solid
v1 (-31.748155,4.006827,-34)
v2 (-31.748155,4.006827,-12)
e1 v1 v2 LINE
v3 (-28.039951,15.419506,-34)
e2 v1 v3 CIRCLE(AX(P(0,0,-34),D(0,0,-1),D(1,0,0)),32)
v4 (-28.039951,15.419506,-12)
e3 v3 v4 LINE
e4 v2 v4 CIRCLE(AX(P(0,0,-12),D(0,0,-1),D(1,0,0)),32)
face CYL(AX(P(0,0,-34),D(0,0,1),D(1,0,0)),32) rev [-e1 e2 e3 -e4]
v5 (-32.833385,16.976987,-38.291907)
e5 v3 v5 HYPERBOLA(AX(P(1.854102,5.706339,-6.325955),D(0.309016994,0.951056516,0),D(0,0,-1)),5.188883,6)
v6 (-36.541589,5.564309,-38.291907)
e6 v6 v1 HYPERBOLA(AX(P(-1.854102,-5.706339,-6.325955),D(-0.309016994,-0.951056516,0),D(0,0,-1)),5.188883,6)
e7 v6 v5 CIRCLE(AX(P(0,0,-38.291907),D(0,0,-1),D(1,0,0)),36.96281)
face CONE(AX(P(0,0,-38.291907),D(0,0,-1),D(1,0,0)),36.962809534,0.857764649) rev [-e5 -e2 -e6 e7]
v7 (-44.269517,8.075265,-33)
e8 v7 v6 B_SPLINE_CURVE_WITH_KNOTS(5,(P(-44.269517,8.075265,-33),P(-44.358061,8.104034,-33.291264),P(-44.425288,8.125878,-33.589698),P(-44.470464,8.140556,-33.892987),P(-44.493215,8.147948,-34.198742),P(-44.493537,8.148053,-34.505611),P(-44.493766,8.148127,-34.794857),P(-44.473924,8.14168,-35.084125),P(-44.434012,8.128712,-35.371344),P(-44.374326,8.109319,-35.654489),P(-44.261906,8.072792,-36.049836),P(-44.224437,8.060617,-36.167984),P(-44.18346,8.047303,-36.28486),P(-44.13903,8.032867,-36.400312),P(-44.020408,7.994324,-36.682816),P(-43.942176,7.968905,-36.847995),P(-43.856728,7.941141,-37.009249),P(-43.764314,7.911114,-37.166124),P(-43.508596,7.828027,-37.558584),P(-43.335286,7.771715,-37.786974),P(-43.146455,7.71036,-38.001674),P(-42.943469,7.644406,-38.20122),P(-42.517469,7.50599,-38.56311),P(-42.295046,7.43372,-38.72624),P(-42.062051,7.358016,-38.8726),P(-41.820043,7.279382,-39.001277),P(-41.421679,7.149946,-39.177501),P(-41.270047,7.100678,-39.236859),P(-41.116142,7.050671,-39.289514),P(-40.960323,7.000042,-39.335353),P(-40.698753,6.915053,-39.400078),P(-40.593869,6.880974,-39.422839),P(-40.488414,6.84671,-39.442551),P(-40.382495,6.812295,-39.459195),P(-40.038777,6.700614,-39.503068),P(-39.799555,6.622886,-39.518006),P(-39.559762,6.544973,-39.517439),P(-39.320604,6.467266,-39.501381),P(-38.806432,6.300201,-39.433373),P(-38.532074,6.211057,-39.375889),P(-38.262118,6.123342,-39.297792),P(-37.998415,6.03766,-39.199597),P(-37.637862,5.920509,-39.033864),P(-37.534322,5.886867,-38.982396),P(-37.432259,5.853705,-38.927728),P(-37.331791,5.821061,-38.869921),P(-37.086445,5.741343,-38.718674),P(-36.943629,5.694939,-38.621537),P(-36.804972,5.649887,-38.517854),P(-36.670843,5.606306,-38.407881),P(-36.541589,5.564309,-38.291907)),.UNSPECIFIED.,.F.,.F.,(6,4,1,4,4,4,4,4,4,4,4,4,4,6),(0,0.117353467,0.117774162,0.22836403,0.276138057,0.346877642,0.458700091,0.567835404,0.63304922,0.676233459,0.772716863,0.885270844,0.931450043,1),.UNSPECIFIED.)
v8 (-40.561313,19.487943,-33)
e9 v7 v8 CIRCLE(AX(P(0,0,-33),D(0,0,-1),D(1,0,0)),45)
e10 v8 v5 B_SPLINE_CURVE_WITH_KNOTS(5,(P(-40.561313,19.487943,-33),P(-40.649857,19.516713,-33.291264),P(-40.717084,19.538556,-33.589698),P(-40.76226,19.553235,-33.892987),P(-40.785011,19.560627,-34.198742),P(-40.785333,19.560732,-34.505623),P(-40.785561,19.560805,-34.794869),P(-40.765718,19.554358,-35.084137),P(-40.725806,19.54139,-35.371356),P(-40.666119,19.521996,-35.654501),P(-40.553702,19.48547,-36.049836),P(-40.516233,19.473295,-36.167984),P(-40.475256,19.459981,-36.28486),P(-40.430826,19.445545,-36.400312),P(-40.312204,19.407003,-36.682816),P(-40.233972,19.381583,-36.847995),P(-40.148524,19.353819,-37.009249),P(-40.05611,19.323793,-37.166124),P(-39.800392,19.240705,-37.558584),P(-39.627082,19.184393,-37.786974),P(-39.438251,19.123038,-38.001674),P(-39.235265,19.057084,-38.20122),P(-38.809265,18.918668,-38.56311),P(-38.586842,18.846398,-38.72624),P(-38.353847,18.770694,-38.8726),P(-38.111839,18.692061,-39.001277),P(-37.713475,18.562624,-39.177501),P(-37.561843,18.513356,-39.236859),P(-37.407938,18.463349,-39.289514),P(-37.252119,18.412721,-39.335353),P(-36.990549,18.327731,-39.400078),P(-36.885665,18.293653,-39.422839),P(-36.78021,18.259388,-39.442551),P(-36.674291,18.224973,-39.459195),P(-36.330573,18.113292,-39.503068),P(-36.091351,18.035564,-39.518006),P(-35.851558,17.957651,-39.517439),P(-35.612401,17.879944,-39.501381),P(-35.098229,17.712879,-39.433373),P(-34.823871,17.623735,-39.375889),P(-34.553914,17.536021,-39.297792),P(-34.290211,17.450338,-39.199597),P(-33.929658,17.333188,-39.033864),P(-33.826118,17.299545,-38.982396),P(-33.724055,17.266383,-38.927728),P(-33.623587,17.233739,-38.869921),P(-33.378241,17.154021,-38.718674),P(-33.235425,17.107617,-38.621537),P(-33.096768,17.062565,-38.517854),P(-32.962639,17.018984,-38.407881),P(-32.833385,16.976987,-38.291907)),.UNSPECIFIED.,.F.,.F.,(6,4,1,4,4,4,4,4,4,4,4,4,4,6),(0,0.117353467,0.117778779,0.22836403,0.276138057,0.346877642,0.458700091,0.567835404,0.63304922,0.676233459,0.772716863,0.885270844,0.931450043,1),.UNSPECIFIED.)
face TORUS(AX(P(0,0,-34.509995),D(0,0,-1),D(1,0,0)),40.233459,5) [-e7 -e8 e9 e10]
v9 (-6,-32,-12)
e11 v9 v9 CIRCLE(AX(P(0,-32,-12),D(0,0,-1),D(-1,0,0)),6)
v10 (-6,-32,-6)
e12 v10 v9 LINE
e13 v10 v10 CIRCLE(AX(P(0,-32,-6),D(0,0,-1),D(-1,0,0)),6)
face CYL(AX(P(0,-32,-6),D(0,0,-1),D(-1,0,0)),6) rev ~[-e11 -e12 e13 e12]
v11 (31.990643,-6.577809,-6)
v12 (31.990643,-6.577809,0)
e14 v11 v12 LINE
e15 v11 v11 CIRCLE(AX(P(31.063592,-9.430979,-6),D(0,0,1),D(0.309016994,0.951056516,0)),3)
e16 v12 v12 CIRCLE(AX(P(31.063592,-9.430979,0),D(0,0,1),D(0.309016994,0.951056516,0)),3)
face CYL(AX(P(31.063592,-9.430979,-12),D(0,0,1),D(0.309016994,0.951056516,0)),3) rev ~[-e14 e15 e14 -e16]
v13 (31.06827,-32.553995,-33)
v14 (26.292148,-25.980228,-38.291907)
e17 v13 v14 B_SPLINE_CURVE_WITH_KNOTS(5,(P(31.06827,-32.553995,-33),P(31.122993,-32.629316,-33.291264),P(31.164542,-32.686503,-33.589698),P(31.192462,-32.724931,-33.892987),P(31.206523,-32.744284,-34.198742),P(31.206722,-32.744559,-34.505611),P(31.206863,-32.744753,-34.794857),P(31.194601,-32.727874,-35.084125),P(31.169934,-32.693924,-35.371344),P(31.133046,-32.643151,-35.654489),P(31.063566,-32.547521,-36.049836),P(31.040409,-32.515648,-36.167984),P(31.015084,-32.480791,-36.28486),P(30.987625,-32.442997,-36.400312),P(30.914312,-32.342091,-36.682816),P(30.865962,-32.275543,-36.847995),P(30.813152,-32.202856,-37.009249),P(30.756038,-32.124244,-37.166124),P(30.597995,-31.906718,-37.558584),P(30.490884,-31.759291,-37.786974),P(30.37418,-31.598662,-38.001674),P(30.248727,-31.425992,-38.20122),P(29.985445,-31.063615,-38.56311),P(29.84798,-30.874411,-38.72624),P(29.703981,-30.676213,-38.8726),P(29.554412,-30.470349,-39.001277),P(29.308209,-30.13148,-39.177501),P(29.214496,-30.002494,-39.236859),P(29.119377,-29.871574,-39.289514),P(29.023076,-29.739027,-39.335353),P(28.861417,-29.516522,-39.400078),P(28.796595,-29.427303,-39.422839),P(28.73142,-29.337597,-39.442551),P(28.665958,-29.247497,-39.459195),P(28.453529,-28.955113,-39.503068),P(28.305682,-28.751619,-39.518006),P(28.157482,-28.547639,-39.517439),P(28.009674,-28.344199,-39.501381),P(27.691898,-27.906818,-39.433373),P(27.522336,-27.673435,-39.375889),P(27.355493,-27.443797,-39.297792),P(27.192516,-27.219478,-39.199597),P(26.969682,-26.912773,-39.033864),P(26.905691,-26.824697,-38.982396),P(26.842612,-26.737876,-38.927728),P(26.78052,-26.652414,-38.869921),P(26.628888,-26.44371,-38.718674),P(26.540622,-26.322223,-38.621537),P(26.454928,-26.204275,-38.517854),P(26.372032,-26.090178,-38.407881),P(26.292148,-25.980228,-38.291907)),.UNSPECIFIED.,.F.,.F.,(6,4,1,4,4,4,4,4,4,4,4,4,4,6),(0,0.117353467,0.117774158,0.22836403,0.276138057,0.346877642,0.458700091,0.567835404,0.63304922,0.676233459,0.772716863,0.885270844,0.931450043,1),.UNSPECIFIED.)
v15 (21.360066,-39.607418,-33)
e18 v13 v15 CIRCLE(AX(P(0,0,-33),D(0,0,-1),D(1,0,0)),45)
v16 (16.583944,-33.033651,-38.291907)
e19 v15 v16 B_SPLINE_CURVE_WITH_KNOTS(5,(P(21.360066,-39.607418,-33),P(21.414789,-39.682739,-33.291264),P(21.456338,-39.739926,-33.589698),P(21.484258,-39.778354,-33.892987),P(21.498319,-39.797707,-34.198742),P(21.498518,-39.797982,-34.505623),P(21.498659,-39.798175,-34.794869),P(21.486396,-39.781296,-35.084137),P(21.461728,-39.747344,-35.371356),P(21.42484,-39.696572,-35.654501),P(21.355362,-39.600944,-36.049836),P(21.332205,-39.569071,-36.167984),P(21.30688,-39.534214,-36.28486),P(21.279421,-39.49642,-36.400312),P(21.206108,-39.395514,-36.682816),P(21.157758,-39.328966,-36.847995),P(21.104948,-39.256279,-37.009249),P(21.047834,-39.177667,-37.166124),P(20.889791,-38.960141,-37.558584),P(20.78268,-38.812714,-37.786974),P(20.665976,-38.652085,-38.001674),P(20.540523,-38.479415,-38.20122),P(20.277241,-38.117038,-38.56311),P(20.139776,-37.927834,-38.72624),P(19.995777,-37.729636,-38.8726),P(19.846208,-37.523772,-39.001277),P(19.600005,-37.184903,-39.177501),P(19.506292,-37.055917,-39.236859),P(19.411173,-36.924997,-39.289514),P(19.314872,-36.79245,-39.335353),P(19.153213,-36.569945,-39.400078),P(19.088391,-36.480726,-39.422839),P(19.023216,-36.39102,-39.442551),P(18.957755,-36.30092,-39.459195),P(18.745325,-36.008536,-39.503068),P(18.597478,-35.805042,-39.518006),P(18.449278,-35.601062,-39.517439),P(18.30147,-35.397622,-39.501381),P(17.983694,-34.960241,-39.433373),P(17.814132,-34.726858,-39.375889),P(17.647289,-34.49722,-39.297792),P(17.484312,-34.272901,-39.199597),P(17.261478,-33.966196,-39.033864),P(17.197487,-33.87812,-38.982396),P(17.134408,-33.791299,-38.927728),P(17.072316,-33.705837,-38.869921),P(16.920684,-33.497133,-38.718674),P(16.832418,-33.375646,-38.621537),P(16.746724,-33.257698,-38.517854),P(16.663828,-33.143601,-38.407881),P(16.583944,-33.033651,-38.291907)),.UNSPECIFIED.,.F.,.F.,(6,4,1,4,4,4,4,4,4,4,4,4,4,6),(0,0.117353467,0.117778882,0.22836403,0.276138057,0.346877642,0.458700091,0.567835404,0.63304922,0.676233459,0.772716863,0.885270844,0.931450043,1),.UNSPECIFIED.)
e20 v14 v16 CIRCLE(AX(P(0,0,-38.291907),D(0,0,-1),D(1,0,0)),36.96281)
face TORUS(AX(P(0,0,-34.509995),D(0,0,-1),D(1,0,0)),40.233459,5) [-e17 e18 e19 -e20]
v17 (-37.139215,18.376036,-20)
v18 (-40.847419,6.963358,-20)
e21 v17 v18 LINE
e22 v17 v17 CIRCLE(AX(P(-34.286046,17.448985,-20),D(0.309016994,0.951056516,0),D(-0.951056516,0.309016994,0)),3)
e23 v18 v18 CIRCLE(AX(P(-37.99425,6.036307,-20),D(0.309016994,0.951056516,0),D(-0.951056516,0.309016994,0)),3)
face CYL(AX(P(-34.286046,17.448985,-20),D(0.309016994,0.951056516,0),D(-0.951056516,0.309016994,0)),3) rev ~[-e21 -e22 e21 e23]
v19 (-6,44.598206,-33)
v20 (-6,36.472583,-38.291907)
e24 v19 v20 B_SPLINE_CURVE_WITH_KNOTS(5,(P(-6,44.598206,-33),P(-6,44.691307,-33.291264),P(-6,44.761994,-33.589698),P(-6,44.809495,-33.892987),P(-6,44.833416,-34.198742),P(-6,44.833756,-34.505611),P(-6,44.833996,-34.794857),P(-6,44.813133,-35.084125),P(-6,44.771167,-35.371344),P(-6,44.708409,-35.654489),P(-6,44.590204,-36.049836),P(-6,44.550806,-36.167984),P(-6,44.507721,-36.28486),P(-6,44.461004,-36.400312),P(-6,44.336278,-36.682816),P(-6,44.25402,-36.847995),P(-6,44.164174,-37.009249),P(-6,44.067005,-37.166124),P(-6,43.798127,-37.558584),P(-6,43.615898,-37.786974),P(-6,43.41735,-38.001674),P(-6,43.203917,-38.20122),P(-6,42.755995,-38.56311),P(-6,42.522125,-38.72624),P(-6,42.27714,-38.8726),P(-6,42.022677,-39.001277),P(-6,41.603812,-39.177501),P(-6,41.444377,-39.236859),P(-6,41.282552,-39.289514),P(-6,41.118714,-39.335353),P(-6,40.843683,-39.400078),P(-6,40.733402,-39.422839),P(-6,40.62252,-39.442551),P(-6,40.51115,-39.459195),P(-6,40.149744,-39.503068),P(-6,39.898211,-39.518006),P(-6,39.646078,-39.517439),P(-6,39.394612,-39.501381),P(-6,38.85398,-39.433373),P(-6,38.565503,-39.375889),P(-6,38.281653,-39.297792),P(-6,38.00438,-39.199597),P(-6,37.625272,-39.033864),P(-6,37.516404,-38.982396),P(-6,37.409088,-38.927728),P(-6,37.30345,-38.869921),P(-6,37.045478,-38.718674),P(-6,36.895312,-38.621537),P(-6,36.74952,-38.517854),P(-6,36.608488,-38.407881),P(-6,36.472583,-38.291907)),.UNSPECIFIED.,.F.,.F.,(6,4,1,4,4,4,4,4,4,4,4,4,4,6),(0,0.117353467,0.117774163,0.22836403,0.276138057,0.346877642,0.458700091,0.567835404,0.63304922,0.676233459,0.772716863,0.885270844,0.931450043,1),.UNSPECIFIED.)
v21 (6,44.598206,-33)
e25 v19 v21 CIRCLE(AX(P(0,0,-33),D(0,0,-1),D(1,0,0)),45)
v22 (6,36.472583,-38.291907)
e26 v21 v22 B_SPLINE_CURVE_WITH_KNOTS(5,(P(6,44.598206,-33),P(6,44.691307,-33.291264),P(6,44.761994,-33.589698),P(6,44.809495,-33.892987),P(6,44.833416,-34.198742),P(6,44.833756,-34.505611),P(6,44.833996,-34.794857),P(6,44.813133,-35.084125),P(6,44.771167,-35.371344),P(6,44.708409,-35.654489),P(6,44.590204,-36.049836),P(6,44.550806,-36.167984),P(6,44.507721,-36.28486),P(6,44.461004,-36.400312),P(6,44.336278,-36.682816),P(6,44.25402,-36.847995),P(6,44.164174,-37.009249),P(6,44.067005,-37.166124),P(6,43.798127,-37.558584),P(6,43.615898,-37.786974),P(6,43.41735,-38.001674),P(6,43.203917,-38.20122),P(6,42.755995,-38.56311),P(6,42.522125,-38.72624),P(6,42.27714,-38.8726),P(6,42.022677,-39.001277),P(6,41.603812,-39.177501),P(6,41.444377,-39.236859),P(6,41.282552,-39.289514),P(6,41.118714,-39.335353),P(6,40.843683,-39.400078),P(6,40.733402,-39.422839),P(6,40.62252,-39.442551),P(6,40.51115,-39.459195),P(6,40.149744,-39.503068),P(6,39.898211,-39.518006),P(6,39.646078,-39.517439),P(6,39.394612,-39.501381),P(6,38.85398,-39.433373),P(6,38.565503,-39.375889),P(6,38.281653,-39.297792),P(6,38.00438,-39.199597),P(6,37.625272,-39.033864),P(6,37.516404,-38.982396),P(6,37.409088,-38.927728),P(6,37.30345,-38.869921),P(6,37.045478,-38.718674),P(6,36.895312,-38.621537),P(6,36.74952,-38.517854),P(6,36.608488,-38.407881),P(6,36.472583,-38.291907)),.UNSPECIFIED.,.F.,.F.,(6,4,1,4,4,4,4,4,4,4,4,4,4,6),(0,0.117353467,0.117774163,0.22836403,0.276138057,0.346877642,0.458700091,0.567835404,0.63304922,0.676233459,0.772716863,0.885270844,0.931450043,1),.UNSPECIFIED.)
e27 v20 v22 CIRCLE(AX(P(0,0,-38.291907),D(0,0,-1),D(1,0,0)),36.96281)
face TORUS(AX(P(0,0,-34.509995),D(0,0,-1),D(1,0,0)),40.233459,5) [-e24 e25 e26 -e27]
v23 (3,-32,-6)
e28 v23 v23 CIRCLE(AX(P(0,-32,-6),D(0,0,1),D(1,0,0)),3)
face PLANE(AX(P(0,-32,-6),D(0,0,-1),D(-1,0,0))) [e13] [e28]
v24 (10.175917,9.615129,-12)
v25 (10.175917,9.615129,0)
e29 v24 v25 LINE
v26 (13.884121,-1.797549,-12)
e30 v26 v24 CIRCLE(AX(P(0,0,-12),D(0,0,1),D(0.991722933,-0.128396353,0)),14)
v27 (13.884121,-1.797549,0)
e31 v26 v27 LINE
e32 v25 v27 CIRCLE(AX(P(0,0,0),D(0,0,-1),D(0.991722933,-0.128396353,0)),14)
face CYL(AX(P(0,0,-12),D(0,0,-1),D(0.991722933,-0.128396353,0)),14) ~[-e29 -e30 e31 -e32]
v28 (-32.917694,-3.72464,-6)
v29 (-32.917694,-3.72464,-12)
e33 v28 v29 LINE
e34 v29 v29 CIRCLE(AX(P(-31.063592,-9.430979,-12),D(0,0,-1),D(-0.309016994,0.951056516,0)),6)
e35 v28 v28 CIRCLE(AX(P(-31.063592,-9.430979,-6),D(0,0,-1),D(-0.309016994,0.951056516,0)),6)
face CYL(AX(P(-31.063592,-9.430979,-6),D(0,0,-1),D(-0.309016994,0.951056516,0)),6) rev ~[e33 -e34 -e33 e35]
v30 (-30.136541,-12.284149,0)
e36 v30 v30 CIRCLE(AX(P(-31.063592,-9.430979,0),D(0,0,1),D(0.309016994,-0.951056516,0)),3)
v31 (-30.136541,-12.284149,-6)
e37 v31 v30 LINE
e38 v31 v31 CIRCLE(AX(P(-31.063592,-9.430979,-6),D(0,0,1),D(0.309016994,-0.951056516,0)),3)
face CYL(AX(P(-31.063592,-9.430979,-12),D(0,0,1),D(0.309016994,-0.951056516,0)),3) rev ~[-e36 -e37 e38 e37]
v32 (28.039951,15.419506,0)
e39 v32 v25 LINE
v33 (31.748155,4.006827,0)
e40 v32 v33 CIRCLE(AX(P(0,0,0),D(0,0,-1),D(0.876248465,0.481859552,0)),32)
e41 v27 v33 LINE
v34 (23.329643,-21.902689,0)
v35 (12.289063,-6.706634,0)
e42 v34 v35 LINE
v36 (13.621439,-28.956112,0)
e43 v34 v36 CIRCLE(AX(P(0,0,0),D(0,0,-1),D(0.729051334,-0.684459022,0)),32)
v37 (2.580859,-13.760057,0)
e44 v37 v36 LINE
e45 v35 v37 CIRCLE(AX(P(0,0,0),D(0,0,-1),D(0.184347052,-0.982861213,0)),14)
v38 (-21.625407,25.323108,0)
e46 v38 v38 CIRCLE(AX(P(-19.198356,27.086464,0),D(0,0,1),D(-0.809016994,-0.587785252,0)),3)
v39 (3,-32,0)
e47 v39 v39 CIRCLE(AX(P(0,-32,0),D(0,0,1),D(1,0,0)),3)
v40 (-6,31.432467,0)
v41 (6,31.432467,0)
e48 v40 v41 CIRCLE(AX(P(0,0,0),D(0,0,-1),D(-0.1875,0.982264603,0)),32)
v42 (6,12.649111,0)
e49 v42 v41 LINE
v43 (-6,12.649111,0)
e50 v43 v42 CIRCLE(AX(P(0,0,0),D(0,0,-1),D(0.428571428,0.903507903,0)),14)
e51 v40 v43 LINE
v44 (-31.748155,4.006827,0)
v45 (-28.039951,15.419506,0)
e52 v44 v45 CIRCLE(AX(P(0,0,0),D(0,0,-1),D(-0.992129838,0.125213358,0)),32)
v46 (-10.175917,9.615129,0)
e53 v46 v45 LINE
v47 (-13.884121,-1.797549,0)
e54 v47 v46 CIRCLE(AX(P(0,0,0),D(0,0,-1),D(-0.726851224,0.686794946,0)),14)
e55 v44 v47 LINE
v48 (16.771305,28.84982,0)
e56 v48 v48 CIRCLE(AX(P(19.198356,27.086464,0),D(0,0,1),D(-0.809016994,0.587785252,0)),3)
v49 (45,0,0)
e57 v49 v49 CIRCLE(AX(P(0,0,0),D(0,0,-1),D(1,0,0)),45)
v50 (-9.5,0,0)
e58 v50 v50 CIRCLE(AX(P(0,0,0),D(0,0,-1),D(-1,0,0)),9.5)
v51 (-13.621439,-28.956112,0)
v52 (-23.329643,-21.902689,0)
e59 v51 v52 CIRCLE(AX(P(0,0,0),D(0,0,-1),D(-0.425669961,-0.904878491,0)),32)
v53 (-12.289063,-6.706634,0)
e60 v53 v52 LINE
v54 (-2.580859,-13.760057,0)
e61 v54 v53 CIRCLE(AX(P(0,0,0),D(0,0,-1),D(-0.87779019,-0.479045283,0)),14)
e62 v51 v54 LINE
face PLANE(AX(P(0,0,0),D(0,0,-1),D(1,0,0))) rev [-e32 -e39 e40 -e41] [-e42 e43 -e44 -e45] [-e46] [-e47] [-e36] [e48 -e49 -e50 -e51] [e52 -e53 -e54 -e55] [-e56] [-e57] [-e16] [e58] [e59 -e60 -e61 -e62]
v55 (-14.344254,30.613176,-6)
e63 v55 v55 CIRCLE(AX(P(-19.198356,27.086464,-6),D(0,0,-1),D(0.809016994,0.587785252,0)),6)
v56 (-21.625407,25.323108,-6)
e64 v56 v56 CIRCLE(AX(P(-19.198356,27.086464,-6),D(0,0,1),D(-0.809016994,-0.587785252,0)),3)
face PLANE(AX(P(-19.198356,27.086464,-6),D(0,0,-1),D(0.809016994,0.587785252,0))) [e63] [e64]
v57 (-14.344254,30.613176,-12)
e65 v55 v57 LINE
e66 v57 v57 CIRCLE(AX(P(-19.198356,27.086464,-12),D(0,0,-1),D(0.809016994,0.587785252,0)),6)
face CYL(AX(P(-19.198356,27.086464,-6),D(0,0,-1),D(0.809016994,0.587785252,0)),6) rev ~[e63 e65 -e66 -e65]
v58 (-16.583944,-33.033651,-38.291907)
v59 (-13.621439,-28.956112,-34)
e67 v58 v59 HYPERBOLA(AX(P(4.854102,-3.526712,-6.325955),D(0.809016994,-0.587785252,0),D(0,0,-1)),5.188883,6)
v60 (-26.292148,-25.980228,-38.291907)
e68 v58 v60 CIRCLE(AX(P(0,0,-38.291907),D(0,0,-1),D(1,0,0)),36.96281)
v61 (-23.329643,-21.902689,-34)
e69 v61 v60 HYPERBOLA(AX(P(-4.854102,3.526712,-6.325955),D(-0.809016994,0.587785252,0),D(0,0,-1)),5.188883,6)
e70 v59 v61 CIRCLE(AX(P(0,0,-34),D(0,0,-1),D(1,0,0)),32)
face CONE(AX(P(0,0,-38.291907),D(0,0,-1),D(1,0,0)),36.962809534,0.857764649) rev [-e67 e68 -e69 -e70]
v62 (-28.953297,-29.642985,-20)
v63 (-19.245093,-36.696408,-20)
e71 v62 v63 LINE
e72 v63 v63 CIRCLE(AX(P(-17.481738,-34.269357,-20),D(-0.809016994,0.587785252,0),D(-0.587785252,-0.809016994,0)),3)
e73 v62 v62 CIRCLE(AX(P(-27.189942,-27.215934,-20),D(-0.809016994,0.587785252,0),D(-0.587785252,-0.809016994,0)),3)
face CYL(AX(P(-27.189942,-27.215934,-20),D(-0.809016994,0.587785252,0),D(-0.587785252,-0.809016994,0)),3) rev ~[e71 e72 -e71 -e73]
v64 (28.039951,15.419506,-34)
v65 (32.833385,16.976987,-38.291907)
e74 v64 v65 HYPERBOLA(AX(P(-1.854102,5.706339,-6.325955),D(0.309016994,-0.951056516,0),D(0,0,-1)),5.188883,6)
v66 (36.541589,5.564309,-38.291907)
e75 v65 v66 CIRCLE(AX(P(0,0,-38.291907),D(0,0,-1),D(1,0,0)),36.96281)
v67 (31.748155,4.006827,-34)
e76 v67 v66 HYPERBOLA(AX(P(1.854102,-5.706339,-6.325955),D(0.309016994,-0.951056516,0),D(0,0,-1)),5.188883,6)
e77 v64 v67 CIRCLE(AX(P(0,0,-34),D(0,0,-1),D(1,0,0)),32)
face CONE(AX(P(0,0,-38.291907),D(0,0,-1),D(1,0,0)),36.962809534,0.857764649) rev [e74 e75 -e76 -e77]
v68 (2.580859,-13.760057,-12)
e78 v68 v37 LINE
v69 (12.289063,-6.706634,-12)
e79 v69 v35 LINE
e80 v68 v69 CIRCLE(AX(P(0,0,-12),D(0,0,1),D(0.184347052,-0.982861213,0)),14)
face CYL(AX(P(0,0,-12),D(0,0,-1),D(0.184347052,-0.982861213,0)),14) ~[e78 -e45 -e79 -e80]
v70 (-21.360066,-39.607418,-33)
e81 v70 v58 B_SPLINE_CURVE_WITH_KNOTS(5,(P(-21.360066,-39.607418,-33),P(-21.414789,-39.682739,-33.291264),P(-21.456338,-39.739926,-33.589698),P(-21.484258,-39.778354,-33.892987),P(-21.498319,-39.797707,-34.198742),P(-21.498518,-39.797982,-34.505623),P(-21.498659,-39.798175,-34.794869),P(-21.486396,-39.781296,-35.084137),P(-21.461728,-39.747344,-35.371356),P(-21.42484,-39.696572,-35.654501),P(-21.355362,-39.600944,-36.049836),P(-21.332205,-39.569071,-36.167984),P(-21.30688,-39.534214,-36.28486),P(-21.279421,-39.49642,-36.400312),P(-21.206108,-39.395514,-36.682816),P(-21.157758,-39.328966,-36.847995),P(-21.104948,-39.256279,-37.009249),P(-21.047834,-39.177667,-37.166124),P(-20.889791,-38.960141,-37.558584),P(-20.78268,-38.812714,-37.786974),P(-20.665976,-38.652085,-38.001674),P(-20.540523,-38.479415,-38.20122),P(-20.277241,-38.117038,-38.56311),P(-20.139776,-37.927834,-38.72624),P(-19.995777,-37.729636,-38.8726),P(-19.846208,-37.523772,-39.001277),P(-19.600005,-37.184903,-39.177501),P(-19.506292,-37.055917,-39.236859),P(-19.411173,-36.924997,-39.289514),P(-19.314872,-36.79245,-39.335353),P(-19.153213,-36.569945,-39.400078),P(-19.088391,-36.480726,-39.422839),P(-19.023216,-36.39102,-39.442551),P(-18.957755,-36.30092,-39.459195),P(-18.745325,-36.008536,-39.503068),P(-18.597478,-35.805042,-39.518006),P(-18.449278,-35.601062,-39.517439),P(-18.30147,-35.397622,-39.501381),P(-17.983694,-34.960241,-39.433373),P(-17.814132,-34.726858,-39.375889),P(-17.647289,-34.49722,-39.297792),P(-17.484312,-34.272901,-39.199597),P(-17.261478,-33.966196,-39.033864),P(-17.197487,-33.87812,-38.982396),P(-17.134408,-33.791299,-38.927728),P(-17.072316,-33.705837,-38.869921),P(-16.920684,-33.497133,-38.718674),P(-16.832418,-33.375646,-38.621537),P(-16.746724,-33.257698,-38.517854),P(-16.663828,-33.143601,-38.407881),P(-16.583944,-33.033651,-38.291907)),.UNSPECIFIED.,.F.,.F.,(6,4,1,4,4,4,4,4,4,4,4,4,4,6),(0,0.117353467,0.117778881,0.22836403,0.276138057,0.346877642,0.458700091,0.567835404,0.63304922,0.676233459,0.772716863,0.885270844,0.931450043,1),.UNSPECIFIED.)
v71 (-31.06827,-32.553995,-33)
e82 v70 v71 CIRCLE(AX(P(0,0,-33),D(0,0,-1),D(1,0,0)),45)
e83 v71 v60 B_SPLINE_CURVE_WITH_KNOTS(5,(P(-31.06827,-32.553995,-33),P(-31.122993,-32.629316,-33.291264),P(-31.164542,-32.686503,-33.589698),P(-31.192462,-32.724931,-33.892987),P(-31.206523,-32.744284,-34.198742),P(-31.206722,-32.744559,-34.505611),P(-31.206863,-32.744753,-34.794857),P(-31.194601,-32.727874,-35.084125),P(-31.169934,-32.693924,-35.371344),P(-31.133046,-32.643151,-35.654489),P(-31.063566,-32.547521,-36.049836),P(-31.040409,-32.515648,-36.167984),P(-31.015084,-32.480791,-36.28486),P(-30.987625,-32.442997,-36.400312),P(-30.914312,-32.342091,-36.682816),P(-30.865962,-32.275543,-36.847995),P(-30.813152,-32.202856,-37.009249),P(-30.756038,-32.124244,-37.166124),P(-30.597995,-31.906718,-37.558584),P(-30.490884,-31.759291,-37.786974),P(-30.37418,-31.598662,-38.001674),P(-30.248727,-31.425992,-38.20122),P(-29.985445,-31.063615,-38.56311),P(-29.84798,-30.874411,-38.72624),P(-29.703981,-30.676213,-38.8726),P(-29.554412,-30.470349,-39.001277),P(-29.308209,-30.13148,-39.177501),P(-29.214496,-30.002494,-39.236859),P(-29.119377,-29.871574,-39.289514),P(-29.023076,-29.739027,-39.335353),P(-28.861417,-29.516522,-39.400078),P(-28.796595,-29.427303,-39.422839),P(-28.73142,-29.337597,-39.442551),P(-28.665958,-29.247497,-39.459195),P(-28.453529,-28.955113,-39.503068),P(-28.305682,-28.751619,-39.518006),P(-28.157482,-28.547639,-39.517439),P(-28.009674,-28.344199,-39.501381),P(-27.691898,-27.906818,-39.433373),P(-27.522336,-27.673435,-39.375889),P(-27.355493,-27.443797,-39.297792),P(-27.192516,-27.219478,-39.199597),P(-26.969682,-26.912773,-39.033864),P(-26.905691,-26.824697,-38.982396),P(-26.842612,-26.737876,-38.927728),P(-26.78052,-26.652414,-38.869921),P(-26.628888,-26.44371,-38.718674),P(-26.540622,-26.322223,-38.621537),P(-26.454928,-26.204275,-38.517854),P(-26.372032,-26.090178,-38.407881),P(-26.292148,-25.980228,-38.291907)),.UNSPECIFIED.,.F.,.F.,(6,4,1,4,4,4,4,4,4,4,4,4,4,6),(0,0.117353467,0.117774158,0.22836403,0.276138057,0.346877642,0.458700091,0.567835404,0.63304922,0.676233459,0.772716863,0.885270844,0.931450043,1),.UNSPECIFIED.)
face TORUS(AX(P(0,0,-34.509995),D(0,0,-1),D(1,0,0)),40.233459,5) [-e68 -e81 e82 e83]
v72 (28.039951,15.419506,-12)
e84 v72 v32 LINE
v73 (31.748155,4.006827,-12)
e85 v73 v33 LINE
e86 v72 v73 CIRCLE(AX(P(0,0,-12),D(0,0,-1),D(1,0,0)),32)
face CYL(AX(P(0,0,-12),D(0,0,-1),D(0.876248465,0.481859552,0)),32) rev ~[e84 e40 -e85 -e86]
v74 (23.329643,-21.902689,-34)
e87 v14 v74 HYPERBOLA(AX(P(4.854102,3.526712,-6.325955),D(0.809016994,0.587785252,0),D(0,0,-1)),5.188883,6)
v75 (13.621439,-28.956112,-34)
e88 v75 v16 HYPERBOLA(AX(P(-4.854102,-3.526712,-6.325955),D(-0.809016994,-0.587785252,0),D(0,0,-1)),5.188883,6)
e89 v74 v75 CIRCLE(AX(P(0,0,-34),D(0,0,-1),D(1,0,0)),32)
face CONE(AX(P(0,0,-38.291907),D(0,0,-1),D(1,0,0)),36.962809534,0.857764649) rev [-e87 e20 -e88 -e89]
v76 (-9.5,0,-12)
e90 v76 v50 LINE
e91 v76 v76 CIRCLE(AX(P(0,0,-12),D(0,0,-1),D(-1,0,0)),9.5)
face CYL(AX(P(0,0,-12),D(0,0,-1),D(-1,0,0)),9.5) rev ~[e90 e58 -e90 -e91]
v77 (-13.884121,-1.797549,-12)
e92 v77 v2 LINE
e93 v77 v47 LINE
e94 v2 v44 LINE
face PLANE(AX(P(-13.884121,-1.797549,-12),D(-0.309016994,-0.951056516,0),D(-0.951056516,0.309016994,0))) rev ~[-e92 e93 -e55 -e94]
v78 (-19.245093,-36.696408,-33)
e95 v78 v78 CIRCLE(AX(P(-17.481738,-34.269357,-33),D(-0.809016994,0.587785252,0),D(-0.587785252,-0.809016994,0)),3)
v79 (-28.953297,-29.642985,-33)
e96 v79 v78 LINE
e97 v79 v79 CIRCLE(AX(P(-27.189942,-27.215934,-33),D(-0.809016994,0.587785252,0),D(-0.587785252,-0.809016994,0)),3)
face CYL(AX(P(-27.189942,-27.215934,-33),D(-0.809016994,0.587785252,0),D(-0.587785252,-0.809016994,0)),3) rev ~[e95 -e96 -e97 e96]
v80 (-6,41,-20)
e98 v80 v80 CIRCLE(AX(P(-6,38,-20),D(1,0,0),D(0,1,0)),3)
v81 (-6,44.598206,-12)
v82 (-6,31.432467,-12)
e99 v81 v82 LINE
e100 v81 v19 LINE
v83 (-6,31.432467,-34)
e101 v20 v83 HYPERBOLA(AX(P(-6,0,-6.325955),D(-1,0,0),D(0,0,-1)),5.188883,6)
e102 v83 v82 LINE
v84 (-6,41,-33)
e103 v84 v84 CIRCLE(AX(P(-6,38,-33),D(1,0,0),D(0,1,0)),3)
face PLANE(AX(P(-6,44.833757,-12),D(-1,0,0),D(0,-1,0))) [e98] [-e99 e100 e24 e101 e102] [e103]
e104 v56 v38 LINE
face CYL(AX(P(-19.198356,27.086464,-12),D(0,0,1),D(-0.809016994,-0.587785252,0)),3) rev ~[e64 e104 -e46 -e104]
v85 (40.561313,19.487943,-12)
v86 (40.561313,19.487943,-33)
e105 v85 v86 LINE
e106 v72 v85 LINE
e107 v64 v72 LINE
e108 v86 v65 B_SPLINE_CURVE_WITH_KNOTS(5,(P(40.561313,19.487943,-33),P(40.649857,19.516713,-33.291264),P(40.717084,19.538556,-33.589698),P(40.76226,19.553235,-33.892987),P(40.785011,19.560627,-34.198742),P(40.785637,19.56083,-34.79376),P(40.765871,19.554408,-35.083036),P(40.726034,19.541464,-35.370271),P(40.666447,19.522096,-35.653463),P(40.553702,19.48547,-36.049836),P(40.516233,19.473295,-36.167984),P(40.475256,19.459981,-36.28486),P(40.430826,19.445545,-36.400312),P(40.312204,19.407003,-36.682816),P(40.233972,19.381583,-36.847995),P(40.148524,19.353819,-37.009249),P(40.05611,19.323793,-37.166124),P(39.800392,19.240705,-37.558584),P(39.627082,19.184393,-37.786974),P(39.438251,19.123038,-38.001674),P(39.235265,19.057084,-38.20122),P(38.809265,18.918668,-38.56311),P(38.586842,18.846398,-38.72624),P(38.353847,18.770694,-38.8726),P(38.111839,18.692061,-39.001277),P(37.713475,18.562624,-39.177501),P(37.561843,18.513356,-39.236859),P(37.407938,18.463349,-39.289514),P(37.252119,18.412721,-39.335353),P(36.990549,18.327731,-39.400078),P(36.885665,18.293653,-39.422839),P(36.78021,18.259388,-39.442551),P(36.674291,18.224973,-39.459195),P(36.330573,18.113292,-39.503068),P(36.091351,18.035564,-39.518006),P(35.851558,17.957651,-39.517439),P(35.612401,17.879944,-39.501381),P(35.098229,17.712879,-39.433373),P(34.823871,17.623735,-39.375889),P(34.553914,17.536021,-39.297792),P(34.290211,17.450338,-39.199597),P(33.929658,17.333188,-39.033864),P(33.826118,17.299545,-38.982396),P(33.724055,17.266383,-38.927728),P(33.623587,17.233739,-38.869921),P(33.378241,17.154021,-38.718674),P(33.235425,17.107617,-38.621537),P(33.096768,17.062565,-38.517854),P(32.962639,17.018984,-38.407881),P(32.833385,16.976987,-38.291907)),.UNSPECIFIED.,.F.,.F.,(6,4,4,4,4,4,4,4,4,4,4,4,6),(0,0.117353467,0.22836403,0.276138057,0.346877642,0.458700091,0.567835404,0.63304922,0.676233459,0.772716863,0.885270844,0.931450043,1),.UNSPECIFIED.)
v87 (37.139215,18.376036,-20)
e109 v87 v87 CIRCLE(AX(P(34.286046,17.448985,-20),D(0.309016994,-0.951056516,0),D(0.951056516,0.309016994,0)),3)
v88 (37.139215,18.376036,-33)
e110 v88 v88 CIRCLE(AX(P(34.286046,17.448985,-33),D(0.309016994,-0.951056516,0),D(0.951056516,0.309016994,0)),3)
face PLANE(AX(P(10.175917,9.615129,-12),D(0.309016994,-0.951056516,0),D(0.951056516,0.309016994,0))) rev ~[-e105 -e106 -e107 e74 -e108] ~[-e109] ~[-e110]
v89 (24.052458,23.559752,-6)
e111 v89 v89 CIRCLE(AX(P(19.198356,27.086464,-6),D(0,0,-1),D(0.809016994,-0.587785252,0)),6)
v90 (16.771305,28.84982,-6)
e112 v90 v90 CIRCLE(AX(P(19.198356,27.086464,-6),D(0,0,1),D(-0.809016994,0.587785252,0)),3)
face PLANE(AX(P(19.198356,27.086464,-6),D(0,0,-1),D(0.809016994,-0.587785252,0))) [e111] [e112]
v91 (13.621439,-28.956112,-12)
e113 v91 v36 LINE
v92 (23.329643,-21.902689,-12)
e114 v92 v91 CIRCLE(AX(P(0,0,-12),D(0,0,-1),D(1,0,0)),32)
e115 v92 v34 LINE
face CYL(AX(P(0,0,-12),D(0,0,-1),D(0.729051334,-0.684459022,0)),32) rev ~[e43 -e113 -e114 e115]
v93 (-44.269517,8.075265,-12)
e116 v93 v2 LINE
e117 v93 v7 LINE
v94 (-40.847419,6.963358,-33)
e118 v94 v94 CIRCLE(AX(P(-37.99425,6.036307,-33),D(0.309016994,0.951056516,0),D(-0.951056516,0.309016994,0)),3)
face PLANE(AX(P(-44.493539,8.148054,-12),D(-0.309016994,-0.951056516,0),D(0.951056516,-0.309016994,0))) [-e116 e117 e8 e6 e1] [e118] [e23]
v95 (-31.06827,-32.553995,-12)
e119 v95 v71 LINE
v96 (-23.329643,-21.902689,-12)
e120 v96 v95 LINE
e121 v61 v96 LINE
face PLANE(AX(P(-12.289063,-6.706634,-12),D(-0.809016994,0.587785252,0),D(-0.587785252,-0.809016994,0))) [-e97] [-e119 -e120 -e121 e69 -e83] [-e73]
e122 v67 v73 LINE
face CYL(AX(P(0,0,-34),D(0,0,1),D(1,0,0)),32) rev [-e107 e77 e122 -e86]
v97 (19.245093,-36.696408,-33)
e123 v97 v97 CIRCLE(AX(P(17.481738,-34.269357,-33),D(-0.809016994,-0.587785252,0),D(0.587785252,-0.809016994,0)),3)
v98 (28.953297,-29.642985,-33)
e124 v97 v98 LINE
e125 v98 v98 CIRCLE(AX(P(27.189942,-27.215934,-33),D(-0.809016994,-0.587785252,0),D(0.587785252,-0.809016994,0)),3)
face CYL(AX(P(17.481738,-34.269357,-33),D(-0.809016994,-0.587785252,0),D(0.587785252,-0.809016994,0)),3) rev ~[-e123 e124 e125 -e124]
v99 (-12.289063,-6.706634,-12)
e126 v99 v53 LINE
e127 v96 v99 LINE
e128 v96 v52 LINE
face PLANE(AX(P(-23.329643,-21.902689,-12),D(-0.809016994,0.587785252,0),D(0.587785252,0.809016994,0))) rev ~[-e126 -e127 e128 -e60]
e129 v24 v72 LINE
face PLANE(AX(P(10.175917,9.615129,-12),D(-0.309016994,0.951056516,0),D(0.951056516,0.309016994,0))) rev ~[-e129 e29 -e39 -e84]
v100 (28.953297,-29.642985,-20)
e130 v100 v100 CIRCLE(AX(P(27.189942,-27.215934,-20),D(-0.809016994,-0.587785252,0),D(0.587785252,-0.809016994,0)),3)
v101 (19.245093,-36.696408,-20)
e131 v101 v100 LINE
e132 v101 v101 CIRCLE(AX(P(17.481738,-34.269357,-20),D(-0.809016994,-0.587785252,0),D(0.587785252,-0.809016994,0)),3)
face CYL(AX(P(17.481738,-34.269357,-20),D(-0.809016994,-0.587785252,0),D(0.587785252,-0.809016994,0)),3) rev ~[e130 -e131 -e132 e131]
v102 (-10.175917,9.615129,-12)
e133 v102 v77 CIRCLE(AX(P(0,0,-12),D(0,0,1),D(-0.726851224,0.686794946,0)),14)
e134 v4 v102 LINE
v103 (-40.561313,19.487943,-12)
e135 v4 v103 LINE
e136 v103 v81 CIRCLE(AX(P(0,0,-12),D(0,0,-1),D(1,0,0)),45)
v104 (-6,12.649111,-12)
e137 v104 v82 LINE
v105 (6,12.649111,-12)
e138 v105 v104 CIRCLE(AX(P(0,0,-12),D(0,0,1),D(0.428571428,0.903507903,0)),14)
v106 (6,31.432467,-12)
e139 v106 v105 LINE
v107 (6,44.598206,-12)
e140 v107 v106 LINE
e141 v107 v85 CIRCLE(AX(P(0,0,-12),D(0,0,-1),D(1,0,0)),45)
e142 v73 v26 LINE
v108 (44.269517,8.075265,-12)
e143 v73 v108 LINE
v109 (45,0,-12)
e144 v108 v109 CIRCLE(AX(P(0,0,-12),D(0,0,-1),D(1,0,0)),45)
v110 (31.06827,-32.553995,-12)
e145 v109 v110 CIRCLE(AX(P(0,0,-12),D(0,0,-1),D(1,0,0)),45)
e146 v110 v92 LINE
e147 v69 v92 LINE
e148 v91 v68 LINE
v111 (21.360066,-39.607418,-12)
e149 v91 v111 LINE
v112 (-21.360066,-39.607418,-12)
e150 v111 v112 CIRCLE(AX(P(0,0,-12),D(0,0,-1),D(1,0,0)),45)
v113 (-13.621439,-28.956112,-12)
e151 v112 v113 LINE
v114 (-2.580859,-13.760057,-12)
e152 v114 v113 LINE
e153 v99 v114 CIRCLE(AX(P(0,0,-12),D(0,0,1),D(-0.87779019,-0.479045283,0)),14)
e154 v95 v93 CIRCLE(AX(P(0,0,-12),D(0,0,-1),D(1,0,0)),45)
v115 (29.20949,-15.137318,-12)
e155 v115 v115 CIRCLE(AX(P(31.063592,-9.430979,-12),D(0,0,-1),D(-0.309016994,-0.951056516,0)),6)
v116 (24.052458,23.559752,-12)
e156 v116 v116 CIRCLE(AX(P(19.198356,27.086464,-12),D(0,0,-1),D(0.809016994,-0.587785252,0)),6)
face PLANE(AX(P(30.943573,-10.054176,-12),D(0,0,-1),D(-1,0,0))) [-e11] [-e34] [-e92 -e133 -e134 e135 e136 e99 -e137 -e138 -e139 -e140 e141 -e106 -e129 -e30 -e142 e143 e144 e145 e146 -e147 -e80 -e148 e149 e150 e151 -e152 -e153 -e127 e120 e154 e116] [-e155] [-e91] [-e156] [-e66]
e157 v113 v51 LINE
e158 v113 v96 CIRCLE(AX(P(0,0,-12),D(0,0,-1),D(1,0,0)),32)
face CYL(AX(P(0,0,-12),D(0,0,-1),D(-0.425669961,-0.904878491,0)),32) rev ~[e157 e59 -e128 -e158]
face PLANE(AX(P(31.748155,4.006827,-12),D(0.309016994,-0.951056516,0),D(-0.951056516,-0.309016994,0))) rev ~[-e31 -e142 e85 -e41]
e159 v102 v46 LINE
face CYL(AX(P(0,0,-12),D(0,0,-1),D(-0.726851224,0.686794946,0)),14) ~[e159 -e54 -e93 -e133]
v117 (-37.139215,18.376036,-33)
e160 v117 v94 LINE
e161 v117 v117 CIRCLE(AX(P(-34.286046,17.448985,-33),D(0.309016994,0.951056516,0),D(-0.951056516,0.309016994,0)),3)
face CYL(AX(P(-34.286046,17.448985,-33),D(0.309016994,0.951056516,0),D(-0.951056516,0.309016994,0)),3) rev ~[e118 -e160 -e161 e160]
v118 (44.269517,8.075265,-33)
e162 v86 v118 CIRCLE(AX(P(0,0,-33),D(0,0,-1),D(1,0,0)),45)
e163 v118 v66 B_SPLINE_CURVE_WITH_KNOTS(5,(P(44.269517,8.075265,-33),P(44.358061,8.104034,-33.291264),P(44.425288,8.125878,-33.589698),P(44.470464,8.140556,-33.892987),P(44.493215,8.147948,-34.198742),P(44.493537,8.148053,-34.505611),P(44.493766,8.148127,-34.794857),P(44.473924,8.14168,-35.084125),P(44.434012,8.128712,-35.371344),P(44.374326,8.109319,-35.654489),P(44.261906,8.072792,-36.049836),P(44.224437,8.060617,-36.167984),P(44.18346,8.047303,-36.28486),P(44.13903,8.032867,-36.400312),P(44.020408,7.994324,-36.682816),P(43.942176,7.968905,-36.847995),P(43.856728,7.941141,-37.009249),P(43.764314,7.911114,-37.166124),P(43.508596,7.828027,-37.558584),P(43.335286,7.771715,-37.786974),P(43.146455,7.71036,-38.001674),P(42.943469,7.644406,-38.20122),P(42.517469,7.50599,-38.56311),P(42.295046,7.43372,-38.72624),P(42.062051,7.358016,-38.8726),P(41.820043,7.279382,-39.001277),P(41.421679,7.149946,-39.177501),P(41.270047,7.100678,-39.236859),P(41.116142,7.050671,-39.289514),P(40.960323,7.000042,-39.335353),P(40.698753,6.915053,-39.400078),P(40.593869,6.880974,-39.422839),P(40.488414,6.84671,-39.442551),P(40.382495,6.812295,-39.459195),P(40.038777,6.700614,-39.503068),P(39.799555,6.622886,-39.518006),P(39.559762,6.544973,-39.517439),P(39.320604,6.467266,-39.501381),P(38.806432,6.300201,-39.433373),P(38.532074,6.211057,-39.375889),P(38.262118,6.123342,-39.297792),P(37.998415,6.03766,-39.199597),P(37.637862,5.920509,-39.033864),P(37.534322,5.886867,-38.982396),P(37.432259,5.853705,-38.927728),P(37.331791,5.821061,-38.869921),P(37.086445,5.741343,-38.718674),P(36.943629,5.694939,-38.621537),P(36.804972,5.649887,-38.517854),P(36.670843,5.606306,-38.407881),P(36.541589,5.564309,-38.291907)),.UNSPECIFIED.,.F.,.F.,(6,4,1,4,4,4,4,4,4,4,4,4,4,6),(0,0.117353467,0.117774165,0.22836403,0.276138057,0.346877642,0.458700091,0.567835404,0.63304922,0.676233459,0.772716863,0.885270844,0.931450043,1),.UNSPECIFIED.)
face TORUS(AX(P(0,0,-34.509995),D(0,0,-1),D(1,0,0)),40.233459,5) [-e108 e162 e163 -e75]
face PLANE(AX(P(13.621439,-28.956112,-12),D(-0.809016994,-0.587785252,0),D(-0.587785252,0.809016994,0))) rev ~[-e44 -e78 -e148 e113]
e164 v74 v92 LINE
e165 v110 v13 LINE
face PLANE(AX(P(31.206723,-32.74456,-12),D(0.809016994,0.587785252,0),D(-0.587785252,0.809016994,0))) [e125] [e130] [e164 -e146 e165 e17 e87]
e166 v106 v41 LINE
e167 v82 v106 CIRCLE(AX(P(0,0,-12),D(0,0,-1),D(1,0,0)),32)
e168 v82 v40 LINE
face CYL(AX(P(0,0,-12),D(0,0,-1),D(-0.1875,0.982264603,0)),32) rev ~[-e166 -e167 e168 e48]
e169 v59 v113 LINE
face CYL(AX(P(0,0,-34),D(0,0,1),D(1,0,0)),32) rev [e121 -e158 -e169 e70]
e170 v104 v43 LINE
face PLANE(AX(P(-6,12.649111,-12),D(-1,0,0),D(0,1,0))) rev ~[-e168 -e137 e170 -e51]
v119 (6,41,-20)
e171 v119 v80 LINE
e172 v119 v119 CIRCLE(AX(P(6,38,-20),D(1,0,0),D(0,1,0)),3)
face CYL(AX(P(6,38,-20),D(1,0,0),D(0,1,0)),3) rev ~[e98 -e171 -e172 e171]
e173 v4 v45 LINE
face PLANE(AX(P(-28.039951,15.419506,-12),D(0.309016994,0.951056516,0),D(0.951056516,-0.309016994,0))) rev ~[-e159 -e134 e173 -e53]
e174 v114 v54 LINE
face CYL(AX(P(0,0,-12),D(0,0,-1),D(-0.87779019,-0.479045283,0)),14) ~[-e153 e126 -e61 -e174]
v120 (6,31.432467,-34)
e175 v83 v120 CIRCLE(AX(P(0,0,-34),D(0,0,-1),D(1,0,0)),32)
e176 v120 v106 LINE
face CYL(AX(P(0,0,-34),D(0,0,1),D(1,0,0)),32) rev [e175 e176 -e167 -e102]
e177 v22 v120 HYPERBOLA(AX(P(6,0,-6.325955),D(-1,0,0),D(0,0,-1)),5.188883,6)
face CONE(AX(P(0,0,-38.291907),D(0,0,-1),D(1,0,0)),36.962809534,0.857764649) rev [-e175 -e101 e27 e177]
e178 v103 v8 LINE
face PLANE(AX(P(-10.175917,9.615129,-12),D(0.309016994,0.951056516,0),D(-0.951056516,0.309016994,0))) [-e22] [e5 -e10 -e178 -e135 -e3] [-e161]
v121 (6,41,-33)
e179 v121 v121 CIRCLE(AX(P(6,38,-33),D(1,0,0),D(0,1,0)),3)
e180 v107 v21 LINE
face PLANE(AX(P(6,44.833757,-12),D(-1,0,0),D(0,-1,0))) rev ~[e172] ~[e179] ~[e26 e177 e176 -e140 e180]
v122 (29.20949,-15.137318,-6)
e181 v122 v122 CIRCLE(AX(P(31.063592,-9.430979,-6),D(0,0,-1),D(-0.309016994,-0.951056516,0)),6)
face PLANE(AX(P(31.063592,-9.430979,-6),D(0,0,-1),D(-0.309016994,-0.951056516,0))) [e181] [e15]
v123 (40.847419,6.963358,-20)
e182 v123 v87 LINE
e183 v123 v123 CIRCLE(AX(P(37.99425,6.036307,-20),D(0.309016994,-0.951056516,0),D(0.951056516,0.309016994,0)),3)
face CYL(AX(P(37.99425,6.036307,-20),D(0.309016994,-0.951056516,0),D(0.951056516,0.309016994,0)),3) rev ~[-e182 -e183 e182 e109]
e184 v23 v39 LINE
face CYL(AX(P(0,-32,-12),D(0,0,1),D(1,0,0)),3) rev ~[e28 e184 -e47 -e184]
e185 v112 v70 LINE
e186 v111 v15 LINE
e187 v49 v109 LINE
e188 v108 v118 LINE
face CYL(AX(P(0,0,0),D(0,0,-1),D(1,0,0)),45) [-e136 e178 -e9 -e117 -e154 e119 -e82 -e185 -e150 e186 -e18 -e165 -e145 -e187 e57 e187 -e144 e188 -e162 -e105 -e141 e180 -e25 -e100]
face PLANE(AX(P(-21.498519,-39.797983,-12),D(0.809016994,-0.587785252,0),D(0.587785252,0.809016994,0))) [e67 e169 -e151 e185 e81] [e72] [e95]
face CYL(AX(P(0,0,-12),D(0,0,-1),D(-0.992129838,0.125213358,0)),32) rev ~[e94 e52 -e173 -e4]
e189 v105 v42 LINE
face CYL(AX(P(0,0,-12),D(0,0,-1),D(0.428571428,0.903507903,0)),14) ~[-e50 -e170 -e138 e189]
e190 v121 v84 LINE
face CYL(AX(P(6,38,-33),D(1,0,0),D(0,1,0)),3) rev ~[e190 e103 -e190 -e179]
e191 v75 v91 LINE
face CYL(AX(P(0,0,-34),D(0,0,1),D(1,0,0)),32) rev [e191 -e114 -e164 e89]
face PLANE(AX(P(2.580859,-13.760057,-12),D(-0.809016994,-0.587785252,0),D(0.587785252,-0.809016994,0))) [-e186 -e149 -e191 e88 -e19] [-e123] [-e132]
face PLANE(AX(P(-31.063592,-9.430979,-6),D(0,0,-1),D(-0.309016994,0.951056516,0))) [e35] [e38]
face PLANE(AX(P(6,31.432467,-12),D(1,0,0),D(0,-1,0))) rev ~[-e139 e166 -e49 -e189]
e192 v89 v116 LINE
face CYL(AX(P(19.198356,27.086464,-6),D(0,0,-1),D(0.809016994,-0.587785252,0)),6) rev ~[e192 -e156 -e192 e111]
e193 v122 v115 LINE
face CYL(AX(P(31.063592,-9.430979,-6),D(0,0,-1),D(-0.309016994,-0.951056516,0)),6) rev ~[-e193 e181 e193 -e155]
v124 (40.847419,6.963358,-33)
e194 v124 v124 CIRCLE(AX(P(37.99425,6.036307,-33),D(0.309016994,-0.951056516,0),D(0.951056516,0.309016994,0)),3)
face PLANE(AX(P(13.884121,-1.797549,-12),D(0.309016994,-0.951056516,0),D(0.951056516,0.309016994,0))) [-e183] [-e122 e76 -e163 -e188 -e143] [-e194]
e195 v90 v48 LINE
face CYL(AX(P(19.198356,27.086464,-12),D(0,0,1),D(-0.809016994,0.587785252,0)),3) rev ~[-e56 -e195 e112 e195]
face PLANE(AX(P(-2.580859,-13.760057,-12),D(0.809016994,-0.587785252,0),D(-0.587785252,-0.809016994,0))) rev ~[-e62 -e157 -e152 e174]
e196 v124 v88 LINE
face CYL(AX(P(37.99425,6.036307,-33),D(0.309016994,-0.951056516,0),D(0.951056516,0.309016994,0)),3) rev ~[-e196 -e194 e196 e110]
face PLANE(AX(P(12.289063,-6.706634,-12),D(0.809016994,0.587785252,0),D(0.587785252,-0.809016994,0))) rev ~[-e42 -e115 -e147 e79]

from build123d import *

# Parameters (mm, degrees)
CUT_EXTRUDE_2_DEPTH            = 70.634269506
HOLE_WIZARD_M1_6_1_D           = 6
HOLE_WIZARD_M1_6_1_CBORE_D     = 12
HOLE_WIZARD_M1_6_1_CBORE_DEPTH = 6
PATTERN_CIRCULAR_1_COUNT       = 5
SKETCH_7_R                     = 9.5
CUT_EXTRUDE_3_DEPTH            = 70.482844453
CUT_EXTRUDE_4_DEPTH            = 70.482844453
PATTERN_CIRCULAR_2_COUNT       = 5
SKETCH_9_R                     = 3
CUT_EXTRUDE_5_DEPTH            = 79.791532331
PATTERN_CIRCULAR_3_COUNT       = 5


with BuildPart() as part:
    # 草图1 → 旋转1 (revolve)
    with BuildSketch(Plane(origin=(0, 0, 0), x_dir=(1, 0, 0), z_dir=(0, 1, 0)), mode=Mode.PRIVATE) as revolve_1_sk:
        with BuildLine():
            Line((0, 0), (-45, 0))
            Line((-45, 0), (-45, 12))
            Line((-45, 12), (-45, 33))
            ThreePointArc((-45, 33), (-42.983093835, 38.686059159), (-36.962809534, 38.291906688))
            Line((-36.962809534, 38.291906688), (-32, 34))
            Line((-32, 34), (-32, 12))
            Line((-32, 12), (0, 12))
            Line((0, 12), (0, 0))
        make_face()
    revolve(revolve_1_sk.sketch.rotate(Axis((0, 0, 0), (0, 0, -1)), 180), axis=Axis((0, 0, 0), (0, 0, -1)))

    # 草图2 → 切除-拉伸2 (cut, through all)
    with BuildSketch(Plane(origin=(0, 0, -12), x_dir=(-1, 0, 0), z_dir=(0, 0, -1))):
        with BuildLine():
            Line((-6, 44.833757456), (-6, 12.649110641))
            ThreePointArc((-6, 12.649110641), (-8.228993532, 11.326237921), (-10.175917134, 9.615129249))
            Line((-10.175917134, 9.615129249), (-40.785335212, 19.560732073))
            ThreePointArc((-40.785335212, 19.560732073), (-26.587560075, 36.594636996), (-6, 44.833757456))
        make_face()
        with BuildLine():
            Line((6, 44.833757456), (6, 12.649110641))
            ThreePointArc((6, 12.649110641), (8.228993532, 11.326237921), (10.175917134, 9.615129249))
            Line((10.175917134, 9.615129249), (40.785335212, 19.560732073))
            ThreePointArc((40.785335212, 19.560732073), (26.587560075, 36.594636996), (6, 44.833757456))
        make_face()
        with BuildLine():
            Line((44.493539145, 8.148053878), (13.884121066, -1.797548946))
            ThreePointArc((13.884121066, -1.797548946), (13.314791228, -4.326237921), (12.289062655, -6.706633958))
            Line((12.289062655, -6.706633958), (31.206723404, -32.74456019))
            ThreePointArc((31.206723404, -32.74456019), (43.019575879, -13.977907527), (44.493539145, 8.148053878))
        make_face()
        with BuildLine():
            Line((21.498519471, -39.797983217), (2.580858723, -13.760056986))
            ThreePointArc((2.580858723, -13.760056986), (0, -14), (-2.580858723, -13.760056986))
            Line((-2.580858723, -13.760056986), (-21.498519471, -39.797983217))
            ThreePointArc((-21.498519471, -39.797983217), (0, -45.23345894), (21.498519471, -39.797983217))
        make_face()
        with BuildLine():
            Line((-31.206723404, -32.74456019), (-12.289062655, -6.706633958))
            ThreePointArc((-12.289062655, -6.706633958), (-13.314791228, -4.326237921), (-13.884121066, -1.797548946))
            Line((-13.884121066, -1.797548946), (-44.493539145, 8.148053878))
            ThreePointArc((-44.493539145, 8.148053878), (-43.019575879, -13.977907527), (-31.206723404, -32.74456019))
        make_face()
    extrude(amount=CUT_EXTRUDE_2_DEPTH, mode=Mode.SUBTRACT)

    # M1.6 六角圆柱头螺钉的柱形沉头孔1 (through all)
    with Locations(Plane(origin=(0, 0, -12), x_dir=(-1, 0, 0), z_dir=(0, 0, -1))):
        with Locations((0, -32)):
            hole_wizard_m1_6_1 = CounterBoreHole(HOLE_WIZARD_M1_6_1_D / 2, HOLE_WIZARD_M1_6_1_CBORE_D / 2, HOLE_WIZARD_M1_6_1_CBORE_DEPTH)

    # 阵列(圆周)1: M1.6 六角圆柱头螺钉的柱形沉头孔1 ×5 about axis
    pattern_circular_1_axis = Axis((0, 0.662193987, 0), (0, 0, 1))
    for i in range(1, PATTERN_CIRCULAR_1_COUNT):
        add(hole_wizard_m1_6_1.rotate(pattern_circular_1_axis, i * 360 / PATTERN_CIRCULAR_1_COUNT), mode=Mode.SUBTRACT)

    # 草图7 → 切除-拉伸3 (cut, through all)
    with BuildSketch(Plane(origin=(0, 0, -12), x_dir=(-1, 0, 0), z_dir=(0, 0, -1))):
        Circle(SKETCH_7_R)
    extrude(amount=-CUT_EXTRUDE_3_DEPTH, mode=Mode.SUBTRACT)

    # 草图7<3> → 切除-拉伸4 (cut, through all)
    with BuildSketch(Plane(origin=(0, 0, -12), x_dir=(-1, 0, 0), z_dir=(0, 0, -1))):
        with BuildLine():
            ThreePointArc((6, 31.432467291), (0, 32), (-6, 31.432467291))
            Line((-6, 31.432467291), (-6, 12.649110641))
            ThreePointArc((-6, 12.649110641), (0, 14), (6, 12.649110641))
            Line((6, 12.649110641), (6, 31.432467291))
        make_face()
    cut_extrude_4 = extrude(amount=-CUT_EXTRUDE_4_DEPTH, mode=Mode.SUBTRACT)

    # 阵列(圆周)2: 切除-拉伸4 ×5 about axis
    pattern_circular_2_axis = Axis((0, 0, 0), (0, 0, 1))
    for i in range(1, PATTERN_CIRCULAR_2_COUNT):
        add(cut_extrude_4.rotate(pattern_circular_2_axis, i * 360 / PATTERN_CIRCULAR_2_COUNT), mode=Mode.SUBTRACT)

    # 草图9 → 切除-拉伸5 (cut, through all)
    with BuildSketch(Plane(origin=(6, 0, 0), x_dir=(0, 0, -1), z_dir=(1, 0, 0))):
        with Locations(Location((33, 38, 0), (0, 0, 90))):
            Circle(SKETCH_9_R)
        with Locations(Location((20, 38, 0), (0, 0, 90))):
            Circle(SKETCH_9_R)
    cut_extrude_5 = extrude(amount=-CUT_EXTRUDE_5_DEPTH, mode=Mode.SUBTRACT)

    # 阵列(圆周)3: 切除-拉伸5 ×5 about axis
    pattern_circular_3_axis = Axis((0, 0, 0), (0, 0, -1))
    for i in range(1, PATTERN_CIRCULAR_3_COUNT):
        add(cut_extrude_5.rotate(pattern_circular_3_axis, i * 360 / PATTERN_CIRCULAR_3_COUNT), mode=Mode.SUBTRACT)


solid = part.part
